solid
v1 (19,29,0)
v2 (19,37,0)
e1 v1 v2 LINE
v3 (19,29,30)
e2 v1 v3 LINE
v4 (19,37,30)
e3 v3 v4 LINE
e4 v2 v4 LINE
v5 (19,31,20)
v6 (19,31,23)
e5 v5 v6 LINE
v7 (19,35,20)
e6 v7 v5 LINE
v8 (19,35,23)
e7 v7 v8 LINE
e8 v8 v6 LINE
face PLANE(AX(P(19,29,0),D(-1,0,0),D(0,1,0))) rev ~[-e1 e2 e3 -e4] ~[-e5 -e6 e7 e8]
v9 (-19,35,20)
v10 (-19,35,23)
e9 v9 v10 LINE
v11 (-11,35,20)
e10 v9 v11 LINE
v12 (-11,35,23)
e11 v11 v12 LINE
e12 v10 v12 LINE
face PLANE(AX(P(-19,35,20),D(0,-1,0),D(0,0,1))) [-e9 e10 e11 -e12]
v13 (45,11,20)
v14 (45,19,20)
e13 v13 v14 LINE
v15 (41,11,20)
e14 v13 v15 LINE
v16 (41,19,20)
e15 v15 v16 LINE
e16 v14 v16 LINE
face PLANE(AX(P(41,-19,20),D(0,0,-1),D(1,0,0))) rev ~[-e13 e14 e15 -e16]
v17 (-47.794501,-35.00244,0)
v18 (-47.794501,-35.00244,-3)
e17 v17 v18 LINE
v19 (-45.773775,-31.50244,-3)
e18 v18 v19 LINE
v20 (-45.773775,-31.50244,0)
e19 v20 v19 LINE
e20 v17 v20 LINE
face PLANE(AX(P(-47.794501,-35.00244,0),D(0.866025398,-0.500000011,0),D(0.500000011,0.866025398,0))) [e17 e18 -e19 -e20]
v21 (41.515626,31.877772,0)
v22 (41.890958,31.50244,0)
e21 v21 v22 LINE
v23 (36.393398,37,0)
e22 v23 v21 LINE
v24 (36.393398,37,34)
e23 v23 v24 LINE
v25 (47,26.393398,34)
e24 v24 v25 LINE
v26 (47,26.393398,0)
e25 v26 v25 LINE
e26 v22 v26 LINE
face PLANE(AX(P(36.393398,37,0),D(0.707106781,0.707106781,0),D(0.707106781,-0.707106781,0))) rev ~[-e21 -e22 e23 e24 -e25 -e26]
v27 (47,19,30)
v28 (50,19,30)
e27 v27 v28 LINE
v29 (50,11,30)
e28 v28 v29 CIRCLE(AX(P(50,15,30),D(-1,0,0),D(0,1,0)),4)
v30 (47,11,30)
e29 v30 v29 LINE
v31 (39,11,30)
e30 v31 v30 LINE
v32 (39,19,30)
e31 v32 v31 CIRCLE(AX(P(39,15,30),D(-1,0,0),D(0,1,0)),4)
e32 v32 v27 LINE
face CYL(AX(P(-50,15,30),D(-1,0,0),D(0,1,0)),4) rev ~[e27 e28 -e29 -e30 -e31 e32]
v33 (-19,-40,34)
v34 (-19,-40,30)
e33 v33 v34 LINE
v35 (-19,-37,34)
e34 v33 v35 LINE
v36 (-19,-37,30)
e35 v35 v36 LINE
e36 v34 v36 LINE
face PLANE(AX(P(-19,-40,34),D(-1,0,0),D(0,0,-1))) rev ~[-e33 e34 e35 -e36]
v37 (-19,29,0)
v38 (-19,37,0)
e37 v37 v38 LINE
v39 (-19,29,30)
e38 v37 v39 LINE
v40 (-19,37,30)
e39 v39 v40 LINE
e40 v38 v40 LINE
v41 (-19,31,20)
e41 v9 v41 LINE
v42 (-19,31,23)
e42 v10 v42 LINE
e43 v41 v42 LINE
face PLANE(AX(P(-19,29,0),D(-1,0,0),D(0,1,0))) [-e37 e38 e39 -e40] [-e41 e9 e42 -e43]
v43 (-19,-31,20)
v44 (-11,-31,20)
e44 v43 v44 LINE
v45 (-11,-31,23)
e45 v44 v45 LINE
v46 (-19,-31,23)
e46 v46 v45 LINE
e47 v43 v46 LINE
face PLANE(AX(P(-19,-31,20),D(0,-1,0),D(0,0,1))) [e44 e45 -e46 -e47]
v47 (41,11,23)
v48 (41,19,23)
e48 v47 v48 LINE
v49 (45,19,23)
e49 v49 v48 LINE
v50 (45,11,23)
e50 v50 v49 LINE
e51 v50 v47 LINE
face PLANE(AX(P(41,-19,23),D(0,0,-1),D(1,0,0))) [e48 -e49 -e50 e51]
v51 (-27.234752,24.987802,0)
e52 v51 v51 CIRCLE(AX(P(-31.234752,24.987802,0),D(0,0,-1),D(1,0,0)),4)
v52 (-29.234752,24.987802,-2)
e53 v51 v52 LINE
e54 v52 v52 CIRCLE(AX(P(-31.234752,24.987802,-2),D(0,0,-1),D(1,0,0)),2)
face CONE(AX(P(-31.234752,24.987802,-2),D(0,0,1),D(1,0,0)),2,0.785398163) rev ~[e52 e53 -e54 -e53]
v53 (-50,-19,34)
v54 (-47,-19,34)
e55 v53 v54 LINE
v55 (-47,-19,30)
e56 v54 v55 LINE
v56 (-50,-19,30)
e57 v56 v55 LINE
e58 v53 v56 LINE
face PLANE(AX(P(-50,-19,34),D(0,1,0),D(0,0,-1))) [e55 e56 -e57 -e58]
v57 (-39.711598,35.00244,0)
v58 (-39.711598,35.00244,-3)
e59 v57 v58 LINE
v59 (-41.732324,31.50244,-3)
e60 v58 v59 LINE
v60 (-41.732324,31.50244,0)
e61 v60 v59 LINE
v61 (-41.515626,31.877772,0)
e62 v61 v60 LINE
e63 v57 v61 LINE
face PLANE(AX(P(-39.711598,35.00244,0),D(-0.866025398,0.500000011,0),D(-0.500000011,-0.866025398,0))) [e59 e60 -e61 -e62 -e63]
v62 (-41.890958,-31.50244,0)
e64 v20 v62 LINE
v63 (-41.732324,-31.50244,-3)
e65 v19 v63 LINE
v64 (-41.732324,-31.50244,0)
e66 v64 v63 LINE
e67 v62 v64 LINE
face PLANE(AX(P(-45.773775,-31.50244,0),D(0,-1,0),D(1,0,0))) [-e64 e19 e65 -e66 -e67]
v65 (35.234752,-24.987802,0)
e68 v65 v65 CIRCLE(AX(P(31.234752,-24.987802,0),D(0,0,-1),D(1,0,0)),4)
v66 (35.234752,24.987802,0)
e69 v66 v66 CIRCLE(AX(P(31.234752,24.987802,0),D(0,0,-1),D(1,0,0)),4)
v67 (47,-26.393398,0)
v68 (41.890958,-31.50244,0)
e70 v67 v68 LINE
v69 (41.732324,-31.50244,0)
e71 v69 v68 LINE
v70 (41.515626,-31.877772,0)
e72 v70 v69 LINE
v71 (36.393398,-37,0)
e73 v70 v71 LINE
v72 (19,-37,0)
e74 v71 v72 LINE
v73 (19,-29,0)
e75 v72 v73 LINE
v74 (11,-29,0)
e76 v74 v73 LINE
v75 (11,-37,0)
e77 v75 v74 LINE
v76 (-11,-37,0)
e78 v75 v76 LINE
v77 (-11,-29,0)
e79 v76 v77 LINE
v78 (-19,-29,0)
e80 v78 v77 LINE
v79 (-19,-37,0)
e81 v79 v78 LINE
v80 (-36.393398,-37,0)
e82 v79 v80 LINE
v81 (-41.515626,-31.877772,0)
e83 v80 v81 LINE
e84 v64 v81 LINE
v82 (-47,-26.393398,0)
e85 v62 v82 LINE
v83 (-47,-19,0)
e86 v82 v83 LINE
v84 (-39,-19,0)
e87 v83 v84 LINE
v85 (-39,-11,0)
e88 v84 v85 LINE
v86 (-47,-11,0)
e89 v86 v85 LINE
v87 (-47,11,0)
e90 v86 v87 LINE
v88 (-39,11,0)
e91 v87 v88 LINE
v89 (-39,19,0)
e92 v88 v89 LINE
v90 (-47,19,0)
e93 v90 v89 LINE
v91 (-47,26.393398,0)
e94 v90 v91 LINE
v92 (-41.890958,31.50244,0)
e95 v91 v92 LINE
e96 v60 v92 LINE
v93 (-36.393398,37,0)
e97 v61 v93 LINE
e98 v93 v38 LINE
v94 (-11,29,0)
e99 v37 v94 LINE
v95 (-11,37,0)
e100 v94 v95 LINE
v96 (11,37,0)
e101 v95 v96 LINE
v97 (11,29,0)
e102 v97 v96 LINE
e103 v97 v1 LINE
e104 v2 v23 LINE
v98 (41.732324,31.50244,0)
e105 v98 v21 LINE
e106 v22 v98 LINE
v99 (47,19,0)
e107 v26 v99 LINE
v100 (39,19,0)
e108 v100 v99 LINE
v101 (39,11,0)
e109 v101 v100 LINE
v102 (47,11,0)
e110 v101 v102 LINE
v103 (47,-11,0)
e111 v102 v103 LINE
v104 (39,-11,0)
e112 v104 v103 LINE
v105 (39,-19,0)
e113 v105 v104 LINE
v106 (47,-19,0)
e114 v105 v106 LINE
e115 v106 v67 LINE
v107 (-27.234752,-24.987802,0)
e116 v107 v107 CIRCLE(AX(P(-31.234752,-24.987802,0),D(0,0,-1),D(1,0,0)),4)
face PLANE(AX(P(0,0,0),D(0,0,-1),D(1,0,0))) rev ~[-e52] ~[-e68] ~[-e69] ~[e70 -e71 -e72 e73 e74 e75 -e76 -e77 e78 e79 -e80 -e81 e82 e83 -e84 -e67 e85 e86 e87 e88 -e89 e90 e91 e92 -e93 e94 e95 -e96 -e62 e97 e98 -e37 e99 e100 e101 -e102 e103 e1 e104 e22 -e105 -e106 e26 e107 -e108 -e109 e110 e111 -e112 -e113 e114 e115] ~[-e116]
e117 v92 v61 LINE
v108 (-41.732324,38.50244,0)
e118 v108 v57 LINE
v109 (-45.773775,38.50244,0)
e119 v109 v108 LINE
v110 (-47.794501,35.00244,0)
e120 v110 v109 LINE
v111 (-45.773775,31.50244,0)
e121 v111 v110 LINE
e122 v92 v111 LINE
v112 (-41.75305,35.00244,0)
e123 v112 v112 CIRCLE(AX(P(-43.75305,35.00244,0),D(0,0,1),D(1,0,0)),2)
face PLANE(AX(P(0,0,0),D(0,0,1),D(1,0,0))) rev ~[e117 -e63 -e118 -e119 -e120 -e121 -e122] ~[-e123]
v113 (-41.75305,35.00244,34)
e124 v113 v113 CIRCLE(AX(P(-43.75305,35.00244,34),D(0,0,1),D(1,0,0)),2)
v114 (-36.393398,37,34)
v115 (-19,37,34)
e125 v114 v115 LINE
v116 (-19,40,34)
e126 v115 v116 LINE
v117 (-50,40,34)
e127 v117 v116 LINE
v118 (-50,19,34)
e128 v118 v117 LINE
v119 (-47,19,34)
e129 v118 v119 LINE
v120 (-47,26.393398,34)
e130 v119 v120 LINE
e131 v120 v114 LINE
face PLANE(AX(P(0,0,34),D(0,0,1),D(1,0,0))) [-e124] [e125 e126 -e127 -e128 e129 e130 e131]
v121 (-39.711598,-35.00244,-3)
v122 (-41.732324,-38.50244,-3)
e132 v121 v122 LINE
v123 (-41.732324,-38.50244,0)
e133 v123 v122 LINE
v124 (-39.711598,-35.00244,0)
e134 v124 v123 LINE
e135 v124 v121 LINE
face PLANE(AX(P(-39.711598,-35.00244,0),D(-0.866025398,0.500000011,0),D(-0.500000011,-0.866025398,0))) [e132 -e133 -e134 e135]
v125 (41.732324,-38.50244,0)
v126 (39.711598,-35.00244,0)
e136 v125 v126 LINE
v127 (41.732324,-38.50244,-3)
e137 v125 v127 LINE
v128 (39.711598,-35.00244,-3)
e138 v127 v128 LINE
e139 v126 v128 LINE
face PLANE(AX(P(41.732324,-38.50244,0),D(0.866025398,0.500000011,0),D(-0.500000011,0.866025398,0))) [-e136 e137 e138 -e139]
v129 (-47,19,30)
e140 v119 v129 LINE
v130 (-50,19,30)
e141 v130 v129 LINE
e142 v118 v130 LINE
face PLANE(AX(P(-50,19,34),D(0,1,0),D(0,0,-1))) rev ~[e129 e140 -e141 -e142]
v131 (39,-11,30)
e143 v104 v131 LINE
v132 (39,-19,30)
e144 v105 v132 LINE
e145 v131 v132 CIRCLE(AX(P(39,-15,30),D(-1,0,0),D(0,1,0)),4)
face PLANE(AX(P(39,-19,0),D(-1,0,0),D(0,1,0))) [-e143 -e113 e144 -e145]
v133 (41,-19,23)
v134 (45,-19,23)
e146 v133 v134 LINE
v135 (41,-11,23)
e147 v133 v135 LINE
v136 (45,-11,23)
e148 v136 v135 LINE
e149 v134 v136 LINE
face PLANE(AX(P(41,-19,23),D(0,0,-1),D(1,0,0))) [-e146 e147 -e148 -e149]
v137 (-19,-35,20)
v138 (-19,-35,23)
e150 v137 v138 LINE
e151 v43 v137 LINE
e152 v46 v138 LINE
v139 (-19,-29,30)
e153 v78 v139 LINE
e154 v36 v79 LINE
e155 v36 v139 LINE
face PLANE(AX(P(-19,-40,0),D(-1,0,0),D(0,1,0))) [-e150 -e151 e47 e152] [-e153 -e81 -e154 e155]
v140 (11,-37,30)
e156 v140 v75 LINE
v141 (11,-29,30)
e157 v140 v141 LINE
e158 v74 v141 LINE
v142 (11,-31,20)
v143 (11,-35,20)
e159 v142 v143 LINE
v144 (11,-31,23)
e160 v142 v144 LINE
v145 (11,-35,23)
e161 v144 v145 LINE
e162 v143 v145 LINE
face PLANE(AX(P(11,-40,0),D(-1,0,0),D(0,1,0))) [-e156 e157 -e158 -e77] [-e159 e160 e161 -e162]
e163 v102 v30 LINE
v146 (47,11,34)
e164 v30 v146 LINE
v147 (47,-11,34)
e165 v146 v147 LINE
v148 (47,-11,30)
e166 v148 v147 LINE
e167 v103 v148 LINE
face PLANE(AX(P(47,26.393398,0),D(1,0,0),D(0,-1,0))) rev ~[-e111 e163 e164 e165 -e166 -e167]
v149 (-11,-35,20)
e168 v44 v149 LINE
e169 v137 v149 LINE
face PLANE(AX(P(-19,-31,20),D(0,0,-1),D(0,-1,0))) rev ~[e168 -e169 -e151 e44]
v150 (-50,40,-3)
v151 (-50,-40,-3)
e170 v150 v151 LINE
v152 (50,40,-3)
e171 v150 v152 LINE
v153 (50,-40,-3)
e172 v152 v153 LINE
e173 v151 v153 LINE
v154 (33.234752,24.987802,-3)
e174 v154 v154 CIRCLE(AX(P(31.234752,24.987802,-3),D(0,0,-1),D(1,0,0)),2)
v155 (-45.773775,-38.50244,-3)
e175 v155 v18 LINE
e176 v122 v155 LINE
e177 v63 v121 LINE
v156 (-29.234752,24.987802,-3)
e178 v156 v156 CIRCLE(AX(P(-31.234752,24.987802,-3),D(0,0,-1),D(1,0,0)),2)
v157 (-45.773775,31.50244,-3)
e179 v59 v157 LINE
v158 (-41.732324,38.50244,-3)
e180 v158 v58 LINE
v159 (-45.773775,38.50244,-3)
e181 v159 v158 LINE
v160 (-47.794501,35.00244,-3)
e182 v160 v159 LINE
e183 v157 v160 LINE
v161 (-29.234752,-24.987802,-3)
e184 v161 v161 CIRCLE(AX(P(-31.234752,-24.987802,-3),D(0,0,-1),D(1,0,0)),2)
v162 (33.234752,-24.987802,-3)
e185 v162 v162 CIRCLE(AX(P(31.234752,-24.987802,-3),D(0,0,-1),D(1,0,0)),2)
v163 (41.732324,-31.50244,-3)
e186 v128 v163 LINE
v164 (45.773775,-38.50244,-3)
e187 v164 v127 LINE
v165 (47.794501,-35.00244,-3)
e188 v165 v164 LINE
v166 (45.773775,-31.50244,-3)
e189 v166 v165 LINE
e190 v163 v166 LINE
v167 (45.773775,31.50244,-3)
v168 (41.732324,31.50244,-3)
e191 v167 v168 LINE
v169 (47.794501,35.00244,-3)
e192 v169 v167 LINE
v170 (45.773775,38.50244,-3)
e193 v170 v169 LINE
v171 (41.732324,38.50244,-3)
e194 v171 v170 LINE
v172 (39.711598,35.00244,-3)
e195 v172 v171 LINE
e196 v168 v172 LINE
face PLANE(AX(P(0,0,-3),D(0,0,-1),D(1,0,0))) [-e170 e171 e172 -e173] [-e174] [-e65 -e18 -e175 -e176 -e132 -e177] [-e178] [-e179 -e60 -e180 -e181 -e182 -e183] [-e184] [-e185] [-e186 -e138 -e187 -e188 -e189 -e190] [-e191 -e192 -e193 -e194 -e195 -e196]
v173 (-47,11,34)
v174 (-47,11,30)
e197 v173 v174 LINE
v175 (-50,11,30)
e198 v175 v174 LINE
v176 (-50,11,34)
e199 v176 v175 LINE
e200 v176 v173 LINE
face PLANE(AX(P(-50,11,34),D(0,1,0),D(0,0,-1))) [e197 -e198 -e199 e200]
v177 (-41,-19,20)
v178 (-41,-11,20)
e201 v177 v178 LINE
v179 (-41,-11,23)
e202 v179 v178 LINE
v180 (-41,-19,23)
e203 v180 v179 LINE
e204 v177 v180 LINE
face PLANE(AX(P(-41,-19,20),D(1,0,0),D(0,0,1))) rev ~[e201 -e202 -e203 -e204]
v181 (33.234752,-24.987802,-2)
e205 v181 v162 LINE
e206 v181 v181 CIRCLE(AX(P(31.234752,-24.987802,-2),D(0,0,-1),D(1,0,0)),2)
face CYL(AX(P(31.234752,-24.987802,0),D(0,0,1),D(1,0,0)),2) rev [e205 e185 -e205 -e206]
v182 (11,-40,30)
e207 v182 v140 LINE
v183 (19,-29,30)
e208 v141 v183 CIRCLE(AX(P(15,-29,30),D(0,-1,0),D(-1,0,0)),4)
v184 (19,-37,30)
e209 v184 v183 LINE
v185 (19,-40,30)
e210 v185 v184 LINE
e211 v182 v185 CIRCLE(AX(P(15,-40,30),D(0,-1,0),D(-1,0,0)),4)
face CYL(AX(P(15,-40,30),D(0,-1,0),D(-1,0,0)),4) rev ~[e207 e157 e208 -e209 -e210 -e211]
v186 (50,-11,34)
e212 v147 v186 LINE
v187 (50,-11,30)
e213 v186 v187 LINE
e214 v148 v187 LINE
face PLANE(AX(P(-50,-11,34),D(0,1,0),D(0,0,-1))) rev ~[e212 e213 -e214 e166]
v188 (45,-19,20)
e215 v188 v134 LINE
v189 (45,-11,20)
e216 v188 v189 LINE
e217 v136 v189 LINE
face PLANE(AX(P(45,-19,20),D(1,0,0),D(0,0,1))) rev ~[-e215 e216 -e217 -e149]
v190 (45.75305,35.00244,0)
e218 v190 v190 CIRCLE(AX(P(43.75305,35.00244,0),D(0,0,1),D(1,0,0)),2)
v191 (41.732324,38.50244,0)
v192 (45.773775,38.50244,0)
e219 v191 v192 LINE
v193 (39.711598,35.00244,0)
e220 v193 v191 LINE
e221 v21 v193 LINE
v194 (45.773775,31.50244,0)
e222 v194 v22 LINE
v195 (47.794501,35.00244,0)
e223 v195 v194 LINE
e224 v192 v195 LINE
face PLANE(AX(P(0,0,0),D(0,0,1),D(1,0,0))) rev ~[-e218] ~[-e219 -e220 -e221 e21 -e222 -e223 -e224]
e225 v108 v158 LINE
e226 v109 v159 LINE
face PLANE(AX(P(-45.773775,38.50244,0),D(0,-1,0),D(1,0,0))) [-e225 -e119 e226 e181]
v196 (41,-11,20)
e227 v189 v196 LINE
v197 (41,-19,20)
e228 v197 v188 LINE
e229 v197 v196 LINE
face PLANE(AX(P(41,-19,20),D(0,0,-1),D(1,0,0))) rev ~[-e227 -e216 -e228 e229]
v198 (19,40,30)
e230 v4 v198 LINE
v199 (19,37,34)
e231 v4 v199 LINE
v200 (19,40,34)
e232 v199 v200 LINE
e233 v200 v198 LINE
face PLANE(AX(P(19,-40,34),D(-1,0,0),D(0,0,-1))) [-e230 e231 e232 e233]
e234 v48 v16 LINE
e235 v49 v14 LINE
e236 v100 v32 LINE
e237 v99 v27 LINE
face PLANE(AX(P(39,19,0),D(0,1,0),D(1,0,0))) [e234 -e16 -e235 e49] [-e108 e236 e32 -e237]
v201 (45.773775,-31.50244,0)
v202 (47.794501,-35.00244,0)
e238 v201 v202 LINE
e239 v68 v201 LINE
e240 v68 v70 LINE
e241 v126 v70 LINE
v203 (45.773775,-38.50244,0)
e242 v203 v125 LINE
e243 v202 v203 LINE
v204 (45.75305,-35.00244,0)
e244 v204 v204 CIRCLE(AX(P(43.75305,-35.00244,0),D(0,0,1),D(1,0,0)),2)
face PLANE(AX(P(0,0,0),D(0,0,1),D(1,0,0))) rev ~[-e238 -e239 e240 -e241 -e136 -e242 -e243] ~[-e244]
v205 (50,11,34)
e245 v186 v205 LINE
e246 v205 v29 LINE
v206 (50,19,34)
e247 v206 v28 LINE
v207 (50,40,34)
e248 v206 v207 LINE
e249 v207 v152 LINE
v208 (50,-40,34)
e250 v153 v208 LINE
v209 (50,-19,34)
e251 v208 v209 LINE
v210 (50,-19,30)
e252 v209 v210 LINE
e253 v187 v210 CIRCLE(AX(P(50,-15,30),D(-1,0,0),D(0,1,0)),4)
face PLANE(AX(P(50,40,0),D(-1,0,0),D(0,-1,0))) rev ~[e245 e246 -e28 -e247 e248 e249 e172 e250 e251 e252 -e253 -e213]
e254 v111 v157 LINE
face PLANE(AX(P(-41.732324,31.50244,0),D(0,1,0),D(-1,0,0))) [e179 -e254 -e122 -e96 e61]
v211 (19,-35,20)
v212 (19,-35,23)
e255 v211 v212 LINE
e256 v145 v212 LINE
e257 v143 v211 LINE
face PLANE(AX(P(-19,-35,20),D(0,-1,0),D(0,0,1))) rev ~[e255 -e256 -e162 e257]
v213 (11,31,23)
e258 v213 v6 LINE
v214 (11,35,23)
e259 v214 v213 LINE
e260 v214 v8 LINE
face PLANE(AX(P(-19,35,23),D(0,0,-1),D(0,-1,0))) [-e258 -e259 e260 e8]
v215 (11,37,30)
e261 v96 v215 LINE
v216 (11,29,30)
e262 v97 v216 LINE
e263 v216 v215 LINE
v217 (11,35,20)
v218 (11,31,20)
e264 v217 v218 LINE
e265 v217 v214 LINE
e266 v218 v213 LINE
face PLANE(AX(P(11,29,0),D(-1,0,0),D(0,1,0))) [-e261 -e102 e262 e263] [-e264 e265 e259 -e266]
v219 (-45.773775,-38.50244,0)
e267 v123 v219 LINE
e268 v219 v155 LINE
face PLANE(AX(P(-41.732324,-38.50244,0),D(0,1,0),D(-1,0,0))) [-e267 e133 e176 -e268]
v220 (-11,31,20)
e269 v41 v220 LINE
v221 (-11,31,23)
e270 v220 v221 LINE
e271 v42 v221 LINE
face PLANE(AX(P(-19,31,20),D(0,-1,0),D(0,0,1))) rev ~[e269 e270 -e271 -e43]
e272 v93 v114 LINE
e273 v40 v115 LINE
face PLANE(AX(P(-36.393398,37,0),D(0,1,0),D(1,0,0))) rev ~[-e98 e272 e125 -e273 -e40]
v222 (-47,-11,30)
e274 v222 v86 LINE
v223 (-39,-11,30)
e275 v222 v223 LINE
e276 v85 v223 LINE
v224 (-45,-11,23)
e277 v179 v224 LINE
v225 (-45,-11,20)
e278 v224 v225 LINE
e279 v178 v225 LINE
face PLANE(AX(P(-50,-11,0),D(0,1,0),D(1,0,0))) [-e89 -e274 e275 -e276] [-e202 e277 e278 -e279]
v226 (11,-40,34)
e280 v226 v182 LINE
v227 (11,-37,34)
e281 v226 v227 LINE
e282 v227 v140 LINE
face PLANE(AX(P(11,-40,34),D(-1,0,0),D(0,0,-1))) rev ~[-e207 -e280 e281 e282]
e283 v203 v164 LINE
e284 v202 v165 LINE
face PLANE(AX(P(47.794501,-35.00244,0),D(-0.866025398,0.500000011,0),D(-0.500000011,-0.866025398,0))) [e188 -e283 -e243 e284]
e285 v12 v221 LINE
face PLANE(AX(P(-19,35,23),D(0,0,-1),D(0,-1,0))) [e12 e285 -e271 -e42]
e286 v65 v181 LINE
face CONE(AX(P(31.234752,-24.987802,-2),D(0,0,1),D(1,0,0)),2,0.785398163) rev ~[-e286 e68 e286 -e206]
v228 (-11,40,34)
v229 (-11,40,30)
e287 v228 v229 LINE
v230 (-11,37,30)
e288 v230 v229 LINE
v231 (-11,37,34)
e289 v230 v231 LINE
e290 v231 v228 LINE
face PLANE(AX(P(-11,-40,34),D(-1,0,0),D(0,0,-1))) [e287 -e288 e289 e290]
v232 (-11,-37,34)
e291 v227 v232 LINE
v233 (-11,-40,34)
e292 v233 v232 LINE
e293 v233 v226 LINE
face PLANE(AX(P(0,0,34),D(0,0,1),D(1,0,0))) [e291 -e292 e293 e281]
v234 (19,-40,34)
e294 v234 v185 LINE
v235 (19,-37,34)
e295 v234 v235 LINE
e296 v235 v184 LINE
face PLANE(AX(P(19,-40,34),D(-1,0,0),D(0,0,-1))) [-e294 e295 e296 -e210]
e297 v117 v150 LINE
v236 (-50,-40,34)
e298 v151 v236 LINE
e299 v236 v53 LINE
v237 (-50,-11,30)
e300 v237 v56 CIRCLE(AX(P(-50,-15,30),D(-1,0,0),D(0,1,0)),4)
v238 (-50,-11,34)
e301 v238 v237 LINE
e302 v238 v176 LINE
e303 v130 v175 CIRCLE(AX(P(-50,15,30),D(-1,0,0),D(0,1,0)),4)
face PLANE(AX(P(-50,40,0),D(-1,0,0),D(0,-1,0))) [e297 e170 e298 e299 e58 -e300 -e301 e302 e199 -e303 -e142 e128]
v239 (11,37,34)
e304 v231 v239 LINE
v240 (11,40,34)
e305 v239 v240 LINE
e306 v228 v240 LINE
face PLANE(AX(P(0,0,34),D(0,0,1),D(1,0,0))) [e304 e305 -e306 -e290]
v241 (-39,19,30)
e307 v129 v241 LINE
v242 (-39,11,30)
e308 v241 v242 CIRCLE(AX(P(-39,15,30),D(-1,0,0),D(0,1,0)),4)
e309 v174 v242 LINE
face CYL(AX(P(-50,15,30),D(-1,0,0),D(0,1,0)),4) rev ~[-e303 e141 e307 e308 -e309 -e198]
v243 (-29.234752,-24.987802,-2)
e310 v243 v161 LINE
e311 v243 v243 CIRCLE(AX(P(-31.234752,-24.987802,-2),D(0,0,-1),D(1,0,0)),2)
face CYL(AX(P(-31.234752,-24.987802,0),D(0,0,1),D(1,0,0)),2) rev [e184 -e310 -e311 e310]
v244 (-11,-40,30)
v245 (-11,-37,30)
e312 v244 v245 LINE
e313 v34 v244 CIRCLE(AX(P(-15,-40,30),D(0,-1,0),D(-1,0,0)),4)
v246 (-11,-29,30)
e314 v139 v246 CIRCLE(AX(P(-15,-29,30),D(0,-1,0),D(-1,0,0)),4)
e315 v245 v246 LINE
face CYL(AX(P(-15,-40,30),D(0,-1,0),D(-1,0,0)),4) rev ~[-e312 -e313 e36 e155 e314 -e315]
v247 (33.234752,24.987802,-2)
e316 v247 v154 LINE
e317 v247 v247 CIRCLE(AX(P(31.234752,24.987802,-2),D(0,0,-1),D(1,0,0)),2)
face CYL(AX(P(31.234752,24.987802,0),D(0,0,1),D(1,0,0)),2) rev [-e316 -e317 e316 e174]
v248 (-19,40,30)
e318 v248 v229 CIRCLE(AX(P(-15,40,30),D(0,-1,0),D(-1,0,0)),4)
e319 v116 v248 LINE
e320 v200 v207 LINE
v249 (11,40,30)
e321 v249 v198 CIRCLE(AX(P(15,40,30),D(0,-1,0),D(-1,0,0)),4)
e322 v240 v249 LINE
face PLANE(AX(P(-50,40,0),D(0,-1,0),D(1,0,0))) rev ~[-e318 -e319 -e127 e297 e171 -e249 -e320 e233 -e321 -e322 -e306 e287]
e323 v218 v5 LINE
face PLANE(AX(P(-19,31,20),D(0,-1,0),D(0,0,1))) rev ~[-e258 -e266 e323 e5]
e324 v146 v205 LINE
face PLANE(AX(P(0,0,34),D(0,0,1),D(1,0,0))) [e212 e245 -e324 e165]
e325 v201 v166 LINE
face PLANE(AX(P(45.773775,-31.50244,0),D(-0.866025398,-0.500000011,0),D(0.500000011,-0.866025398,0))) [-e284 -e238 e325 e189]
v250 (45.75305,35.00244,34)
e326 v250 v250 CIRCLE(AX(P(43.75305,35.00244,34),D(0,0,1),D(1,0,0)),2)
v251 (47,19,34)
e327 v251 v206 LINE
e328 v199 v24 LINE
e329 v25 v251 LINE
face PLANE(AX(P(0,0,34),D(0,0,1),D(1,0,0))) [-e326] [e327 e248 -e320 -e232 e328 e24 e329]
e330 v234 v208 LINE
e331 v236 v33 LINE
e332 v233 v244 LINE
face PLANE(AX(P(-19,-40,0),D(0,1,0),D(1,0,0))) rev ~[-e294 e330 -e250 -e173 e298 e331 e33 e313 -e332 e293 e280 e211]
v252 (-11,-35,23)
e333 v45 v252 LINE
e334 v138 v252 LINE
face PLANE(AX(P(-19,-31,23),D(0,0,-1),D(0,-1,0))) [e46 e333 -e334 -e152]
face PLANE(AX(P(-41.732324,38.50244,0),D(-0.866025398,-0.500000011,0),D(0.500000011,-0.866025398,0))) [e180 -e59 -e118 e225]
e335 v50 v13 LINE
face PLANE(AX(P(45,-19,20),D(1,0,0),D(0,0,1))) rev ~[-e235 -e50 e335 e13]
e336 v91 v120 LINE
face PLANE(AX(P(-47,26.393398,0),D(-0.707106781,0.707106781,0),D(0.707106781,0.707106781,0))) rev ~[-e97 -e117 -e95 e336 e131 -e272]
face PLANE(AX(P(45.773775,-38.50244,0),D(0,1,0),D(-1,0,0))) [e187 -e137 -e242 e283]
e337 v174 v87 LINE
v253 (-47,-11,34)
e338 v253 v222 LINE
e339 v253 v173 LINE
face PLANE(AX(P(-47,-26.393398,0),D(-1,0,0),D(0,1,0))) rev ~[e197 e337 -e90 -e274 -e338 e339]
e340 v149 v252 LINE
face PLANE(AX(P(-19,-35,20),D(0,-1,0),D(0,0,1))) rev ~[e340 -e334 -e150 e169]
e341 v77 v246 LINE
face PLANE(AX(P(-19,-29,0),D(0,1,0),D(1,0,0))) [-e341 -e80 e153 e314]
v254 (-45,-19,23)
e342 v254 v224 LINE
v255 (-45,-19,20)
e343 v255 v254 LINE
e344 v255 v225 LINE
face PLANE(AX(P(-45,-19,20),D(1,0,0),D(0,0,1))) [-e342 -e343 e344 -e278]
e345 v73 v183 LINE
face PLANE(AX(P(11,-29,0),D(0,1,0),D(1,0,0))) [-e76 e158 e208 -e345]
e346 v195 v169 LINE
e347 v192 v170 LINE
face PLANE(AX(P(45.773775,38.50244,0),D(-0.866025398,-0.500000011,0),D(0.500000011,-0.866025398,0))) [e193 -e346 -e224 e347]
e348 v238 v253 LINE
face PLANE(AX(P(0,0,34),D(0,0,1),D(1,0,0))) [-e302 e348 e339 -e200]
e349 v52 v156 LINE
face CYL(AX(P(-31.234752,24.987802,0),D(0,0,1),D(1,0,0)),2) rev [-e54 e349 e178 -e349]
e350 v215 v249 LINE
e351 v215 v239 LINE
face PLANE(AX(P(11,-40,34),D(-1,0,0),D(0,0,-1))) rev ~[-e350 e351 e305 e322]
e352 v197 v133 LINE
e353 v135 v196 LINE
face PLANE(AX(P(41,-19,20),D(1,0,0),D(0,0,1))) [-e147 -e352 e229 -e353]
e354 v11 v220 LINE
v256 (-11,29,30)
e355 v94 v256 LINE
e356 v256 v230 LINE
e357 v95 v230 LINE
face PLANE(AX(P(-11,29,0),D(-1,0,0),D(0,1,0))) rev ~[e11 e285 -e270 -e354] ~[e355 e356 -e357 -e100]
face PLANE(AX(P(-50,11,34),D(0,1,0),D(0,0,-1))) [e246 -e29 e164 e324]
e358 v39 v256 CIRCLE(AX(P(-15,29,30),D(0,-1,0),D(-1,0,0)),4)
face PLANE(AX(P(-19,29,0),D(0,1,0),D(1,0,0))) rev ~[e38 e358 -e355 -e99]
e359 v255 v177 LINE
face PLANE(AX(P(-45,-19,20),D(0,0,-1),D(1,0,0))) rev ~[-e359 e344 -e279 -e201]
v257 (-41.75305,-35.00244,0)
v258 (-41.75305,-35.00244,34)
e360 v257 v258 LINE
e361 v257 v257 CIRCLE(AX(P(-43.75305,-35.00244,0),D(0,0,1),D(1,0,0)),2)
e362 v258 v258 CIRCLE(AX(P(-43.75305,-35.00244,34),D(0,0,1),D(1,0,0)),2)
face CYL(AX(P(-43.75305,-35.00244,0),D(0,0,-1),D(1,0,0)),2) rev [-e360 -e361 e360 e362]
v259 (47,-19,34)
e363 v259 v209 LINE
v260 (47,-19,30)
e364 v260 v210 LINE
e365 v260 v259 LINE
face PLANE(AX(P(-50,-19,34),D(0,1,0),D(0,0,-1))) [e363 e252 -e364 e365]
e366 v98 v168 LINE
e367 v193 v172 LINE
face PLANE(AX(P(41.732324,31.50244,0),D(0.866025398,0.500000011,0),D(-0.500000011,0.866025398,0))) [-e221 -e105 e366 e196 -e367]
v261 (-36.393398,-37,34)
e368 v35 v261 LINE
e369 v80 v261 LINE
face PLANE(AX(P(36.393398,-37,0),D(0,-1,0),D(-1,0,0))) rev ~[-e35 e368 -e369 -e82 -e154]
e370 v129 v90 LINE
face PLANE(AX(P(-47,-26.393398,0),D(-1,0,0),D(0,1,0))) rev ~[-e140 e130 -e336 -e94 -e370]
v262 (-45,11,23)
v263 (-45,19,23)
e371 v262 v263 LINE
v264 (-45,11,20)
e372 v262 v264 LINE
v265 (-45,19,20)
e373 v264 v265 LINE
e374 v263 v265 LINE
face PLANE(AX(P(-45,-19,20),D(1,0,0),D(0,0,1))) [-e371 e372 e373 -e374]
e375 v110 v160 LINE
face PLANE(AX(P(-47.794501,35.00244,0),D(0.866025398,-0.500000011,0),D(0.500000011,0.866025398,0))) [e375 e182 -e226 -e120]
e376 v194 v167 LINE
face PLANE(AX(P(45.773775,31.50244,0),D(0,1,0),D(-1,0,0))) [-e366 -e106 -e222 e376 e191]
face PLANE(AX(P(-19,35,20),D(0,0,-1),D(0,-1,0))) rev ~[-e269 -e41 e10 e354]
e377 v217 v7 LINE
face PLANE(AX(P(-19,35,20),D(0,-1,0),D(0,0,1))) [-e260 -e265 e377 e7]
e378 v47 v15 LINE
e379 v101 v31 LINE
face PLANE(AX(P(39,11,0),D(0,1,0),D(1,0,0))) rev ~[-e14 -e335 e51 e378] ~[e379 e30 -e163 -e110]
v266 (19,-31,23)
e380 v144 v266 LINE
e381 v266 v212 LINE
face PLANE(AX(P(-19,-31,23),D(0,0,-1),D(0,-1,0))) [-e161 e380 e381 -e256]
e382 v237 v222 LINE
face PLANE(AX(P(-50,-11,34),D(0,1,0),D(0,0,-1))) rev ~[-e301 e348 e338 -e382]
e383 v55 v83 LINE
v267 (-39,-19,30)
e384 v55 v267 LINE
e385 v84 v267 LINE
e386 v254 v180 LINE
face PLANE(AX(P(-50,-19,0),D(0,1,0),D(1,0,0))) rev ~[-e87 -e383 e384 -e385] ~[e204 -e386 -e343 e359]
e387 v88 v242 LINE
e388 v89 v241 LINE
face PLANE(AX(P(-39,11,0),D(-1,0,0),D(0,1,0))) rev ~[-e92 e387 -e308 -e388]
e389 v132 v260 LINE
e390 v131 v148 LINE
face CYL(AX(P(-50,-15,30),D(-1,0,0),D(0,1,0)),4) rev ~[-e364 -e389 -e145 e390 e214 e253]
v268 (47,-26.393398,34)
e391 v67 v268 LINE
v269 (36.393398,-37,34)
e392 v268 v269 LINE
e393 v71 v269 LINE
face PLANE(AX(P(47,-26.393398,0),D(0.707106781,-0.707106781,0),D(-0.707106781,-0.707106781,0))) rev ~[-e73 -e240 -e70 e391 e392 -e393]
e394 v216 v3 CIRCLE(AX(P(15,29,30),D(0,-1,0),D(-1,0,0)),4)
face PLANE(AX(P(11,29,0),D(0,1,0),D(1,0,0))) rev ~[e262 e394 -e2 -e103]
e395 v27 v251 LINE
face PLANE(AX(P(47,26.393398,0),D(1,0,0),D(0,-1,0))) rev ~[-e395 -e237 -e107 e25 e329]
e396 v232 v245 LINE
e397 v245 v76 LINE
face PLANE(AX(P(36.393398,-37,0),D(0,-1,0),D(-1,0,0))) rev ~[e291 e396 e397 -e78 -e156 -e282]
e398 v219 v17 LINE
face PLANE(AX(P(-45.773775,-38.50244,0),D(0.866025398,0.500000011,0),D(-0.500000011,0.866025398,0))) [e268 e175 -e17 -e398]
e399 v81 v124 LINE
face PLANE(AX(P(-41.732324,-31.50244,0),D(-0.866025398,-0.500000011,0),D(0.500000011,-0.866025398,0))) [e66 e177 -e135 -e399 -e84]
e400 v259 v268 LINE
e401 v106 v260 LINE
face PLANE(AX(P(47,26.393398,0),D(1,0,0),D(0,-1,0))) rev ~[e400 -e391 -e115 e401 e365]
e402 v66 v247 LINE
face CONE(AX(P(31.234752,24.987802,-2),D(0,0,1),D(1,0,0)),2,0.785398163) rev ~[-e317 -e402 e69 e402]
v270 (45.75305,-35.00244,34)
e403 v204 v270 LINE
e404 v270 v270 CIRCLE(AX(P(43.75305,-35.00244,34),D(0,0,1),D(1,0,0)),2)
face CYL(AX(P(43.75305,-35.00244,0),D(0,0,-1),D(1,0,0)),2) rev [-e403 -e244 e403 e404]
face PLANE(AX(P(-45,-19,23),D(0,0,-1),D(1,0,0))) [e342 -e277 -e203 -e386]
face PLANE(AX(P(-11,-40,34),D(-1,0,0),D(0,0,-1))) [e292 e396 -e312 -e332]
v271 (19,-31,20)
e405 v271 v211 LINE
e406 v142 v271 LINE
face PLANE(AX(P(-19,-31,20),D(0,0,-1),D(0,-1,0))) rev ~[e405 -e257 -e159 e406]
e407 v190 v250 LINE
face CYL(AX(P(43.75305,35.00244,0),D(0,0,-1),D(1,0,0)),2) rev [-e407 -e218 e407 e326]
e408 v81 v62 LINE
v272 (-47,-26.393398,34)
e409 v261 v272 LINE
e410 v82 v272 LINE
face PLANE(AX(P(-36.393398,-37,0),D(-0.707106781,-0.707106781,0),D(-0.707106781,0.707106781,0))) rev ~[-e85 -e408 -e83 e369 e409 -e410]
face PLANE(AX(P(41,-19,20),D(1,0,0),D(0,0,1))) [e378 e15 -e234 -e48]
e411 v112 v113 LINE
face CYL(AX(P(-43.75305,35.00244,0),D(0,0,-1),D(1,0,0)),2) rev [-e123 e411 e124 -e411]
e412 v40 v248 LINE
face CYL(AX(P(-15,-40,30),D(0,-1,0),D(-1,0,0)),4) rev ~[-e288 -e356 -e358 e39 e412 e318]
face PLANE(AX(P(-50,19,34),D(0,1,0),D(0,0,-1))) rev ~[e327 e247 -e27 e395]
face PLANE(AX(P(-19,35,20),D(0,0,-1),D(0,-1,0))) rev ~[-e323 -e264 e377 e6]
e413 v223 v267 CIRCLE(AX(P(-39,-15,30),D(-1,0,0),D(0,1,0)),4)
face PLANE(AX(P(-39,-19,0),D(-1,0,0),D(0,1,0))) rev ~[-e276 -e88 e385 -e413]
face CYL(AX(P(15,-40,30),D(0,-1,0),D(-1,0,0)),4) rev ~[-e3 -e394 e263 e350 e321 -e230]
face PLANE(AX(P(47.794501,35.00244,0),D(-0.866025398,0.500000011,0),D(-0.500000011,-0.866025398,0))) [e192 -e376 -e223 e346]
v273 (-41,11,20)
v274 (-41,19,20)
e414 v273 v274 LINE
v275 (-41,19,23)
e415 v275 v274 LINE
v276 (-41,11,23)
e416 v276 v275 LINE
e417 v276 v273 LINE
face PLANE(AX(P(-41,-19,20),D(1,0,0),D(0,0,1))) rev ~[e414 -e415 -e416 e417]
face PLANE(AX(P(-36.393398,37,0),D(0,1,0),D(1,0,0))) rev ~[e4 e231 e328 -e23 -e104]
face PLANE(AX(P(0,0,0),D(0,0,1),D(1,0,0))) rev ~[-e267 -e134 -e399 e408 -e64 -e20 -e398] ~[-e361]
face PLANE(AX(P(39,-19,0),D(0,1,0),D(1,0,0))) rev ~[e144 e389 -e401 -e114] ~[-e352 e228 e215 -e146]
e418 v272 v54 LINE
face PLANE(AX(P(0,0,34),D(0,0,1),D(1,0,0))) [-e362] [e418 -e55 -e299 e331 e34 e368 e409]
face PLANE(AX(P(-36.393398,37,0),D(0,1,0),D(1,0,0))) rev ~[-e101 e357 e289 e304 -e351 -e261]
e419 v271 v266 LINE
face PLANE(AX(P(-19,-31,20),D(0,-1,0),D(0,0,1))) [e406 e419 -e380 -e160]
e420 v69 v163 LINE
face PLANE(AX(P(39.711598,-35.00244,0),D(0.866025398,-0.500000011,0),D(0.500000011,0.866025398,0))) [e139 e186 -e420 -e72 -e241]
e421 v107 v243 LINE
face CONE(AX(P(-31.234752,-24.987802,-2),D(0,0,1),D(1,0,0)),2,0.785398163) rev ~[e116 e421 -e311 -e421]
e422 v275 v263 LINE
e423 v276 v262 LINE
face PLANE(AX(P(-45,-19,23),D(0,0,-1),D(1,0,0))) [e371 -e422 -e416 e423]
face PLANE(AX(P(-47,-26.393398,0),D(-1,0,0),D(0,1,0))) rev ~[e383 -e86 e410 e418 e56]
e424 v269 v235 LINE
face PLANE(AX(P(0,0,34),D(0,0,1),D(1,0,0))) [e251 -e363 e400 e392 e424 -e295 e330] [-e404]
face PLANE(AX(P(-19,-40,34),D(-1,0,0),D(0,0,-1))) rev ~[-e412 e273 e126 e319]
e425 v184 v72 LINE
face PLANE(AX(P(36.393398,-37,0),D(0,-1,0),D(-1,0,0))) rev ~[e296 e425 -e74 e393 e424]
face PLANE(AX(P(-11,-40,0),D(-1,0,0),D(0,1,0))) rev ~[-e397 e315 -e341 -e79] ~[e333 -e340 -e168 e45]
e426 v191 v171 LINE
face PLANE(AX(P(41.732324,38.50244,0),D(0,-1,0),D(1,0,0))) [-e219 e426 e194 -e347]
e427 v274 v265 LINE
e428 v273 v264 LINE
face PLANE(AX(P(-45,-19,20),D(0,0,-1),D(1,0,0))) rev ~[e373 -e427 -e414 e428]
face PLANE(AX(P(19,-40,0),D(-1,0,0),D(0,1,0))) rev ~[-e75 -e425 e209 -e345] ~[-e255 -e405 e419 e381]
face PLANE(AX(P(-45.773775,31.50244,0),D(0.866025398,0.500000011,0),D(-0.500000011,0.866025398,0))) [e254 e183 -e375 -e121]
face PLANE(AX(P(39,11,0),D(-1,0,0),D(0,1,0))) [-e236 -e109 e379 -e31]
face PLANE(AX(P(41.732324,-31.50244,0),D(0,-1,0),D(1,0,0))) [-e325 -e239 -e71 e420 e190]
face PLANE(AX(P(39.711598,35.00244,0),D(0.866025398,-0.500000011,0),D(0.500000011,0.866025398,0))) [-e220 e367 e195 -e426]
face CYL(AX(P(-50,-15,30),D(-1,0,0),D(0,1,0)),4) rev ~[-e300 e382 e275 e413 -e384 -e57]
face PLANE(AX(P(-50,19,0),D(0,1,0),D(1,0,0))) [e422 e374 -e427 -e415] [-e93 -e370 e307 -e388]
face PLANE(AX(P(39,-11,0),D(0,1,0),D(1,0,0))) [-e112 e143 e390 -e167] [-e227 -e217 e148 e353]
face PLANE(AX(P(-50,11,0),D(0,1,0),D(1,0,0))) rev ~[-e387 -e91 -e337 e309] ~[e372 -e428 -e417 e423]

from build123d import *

# Parameters (mm, degrees)
SKETCH_W        = 100
SKETCH_H        = 80
SKETCH_R        = 2
PAD_DEPTH       = 34
SKETCH001_W     = 100
SKETCH001_H     = 80
SKETCH001_R     = 2
PAD001_DEPTH    = 3
CHAMFER_SIZE    = 2
CHAMFER001_SIZE = 2
CHAMFER002_SIZE = 2
CHAMFER003_SIZE = 2
SKETCH004_W     = 8
SKETCH004_H     = 11
SKETCH004_W_2   = 11
SKETCH004_H_2   = 8
PAD002_DEPTH    = 30
POCKET_DEPTH    = 80.001
POCKET001_DEPTH = 100.001
SKETCH005_W     = 4
SKETCH005_H     = 3
POCKET002_DEPTH = 46
SKETCH006_W     = 4
SKETCH006_H     = 3
POCKET003_DEPTH = 45


with BuildPart() as part:
    # Sketch → Pad (new body)
    with BuildSketch(Plane.XY):
        Rectangle(SKETCH_W, SKETCH_H)
        with Locations((-43.75305, -35.00244)):
            Circle(SKETCH_R, mode=Mode.SUBTRACT)
        with Locations((43.75305, 35.00244)):
            Circle(SKETCH_R, mode=Mode.SUBTRACT)
        with Locations((-43.75305, 35.00244)):
            Circle(SKETCH_R, mode=Mode.SUBTRACT)
        with Locations((43.75305, -35.00244)):
            Circle(SKETCH_R, mode=Mode.SUBTRACT)
        Polygon((-47, -26.393398), (-47, 26.393398), (-36.393398, 37), (36.393398, 37), (47, 26.393398), (47, -26.393398), (36.393398, -37), (-36.393398, -37), align=None, mode=Mode.SUBTRACT)
    extrude(amount=PAD_DEPTH)

    # Sketch001 (on Face17 of Pad) → Pad001 (join)
    with BuildSketch(Plane(origin=(0, 0, 0), x_dir=(1, 0, 0), z_dir=(0, 0, -1))):
        Rectangle(SKETCH001_W, SKETCH001_H)
        with Locations((-31.234752, -24.987802)):
            Circle(SKETCH001_R, mode=Mode.SUBTRACT)
        with Locations((31.234752, 24.987802)):
            Circle(SKETCH001_R, mode=Mode.SUBTRACT)
        with Locations((-31.234752, 24.987802)):
            Circle(SKETCH001_R, mode=Mode.SUBTRACT)
        with Locations((31.234752, -24.987802)):
            Circle(SKETCH001_R, mode=Mode.SUBTRACT)
        Polygon((-39.711598, -35.00244), (-41.732324, -31.50244), (-45.773775, -31.50244), (-47.794501, -35.00244), (-45.773775, -38.50244), (-41.732324, -38.50244), align=None, mode=Mode.SUBTRACT)
        Polygon((47.794501, 35.00244), (45.773775, 38.50244), (41.732324, 38.50244), (39.711598, 35.00244), (41.732324, 31.50244), (45.773775, 31.50244), align=None, mode=Mode.SUBTRACT)
        Polygon((-39.711598, 35.00244), (-41.732324, 38.50244), (-45.773775, 38.50244), (-47.794501, 35.00244), (-45.773775, 31.50244), (-41.732324, 31.50244), align=None, mode=Mode.SUBTRACT)
        Polygon((47.794501, -35.00244), (45.773775, -31.50244), (41.732324, -31.50244), (39.711598, -35.00244), (41.732324, -38.50244), (45.773775, -38.50244), align=None, mode=Mode.SUBTRACT)
    extrude(amount=PAD001_DEPTH)

    # Chamfer
    chamfer_edges = [part.edges().sort_by_distance(p)[0] for p in [
        (-33.234752, -24.987802, 0),
    ]]
    chamfer(chamfer_edges, length=CHAMFER_SIZE)

    # Chamfer001
    chamfer001_edges = [part.edges().sort_by_distance(p)[0] for p in [
        (-33.234752, 24.987802, 0),
    ]]
    chamfer(chamfer001_edges, length=CHAMFER001_SIZE)

    # Chamfer002
    chamfer002_edges = [part.edges().sort_by_distance(p)[0] for p in [
        (29.234752, 24.987802, 0),
    ]]
    chamfer(chamfer002_edges, length=CHAMFER002_SIZE)

    # Chamfer003
    chamfer003_edges = [part.edges().sort_by_distance(p)[0] for p in [
        (29.234752, -24.987802, 0),
    ]]
    chamfer(chamfer003_edges, length=CHAMFER003_SIZE)

    # Sketch004 (on Face1 of Chamfer003) → Pad002 (join)
    with BuildSketch(Plane.XY):
        with Locations((-15, -34.5)):
            Rectangle(SKETCH004_W, SKETCH004_H)
        with Locations((15, 34.5)):
            Rectangle(SKETCH004_W, SKETCH004_H)
        with Locations((15, -34.5)):
            Rectangle(SKETCH004_W, SKETCH004_H)
        with Locations((-15, 34.5)):
            Rectangle(SKETCH004_W, SKETCH004_H)
        with Locations((-44.5, 15)):
            Rectangle(SKETCH004_W_2, SKETCH004_H_2)
        with Locations((44.5, 15)):
            Rectangle(SKETCH004_W_2, SKETCH004_H_2)
        with Locations((44.5, -15)):
            Rectangle(SKETCH004_W_2, SKETCH004_H_2)
        with Locations((-44.5, -15)):
            Rectangle(SKETCH004_W_2, SKETCH004_H_2)
    extrude(amount=PAD002_DEPTH)

    # Sketch002 (on Face85 of Pad002) → Pocket (cut, through all)
    with BuildSketch(Plane.XZ.offset(40)):
        with BuildLine():
            Line((-19, 34), (-19, 30))
            ThreePointArc((-19, 30), (-15, 26), (-11, 30))
            Line((-11, 34), (-11, 30))
            Line((-11, 34), (-19, 34))
        make_face()
        with BuildLine():
            Line((19, 34), (19, 30))
            ThreePointArc((11, 30), (15, 26), (19, 30))
            Line((11, 34), (11, 30))
            Line((11, 34), (19, 34))
        make_face()
    extrude(amount=-POCKET_DEPTH, mode=Mode.SUBTRACT)

    # Sketch003 (on Face108 of Pocket) → Pocket001 (cut, through all)
    with BuildSketch(Plane(origin=(-50, 0, 0), x_dir=(0, -1, 0), z_dir=(-1, 0, 0))):
        with BuildLine():
            Line((-19, 34), (-19, 30))
            ThreePointArc((-19, 30), (-15, 26), (-11, 30))
            Line((-11, 34), (-11, 30))
            Line((-11, 34), (-19, 34))
        make_face()
        with BuildLine():
            Line((19, 34), (19, 30))
            ThreePointArc((11, 30), (15, 26), (19, 30))
            Line((11, 34), (11, 30))
            Line((11, 34), (19, 34))
        make_face()
    extrude(amount=-POCKET001_DEPTH, mode=Mode.SUBTRACT)

    # Sketch005 (on Face24 of Pocket001) → Pocket002 (cut)
    with BuildSketch(Plane.XZ.offset(19)):
        with Locations((-43, 21.5)):
            Rectangle(SKETCH005_W, SKETCH005_H)
        with Locations((43, 21.5)):
            Rectangle(SKETCH005_W, SKETCH005_H)
    extrude(amount=-POCKET002_DEPTH, mode=Mode.SUBTRACT)

    # Sketch006 (on Face12 of Pocket002) → Pocket003 (cut)
    with BuildSketch(Plane(origin=(-19, 0, 0), x_dir=(0, -1, 0), z_dir=(-1, 0, 0))):
        with Locations((-33, 21.5)):
            Rectangle(SKETCH006_W, SKETCH006_H)
        with Locations((33, 21.5)):
            Rectangle(SKETCH006_W, SKETCH006_H)
    extrude(amount=-POCKET003_DEPTH, mode=Mode.SUBTRACT)


solid = part.part
